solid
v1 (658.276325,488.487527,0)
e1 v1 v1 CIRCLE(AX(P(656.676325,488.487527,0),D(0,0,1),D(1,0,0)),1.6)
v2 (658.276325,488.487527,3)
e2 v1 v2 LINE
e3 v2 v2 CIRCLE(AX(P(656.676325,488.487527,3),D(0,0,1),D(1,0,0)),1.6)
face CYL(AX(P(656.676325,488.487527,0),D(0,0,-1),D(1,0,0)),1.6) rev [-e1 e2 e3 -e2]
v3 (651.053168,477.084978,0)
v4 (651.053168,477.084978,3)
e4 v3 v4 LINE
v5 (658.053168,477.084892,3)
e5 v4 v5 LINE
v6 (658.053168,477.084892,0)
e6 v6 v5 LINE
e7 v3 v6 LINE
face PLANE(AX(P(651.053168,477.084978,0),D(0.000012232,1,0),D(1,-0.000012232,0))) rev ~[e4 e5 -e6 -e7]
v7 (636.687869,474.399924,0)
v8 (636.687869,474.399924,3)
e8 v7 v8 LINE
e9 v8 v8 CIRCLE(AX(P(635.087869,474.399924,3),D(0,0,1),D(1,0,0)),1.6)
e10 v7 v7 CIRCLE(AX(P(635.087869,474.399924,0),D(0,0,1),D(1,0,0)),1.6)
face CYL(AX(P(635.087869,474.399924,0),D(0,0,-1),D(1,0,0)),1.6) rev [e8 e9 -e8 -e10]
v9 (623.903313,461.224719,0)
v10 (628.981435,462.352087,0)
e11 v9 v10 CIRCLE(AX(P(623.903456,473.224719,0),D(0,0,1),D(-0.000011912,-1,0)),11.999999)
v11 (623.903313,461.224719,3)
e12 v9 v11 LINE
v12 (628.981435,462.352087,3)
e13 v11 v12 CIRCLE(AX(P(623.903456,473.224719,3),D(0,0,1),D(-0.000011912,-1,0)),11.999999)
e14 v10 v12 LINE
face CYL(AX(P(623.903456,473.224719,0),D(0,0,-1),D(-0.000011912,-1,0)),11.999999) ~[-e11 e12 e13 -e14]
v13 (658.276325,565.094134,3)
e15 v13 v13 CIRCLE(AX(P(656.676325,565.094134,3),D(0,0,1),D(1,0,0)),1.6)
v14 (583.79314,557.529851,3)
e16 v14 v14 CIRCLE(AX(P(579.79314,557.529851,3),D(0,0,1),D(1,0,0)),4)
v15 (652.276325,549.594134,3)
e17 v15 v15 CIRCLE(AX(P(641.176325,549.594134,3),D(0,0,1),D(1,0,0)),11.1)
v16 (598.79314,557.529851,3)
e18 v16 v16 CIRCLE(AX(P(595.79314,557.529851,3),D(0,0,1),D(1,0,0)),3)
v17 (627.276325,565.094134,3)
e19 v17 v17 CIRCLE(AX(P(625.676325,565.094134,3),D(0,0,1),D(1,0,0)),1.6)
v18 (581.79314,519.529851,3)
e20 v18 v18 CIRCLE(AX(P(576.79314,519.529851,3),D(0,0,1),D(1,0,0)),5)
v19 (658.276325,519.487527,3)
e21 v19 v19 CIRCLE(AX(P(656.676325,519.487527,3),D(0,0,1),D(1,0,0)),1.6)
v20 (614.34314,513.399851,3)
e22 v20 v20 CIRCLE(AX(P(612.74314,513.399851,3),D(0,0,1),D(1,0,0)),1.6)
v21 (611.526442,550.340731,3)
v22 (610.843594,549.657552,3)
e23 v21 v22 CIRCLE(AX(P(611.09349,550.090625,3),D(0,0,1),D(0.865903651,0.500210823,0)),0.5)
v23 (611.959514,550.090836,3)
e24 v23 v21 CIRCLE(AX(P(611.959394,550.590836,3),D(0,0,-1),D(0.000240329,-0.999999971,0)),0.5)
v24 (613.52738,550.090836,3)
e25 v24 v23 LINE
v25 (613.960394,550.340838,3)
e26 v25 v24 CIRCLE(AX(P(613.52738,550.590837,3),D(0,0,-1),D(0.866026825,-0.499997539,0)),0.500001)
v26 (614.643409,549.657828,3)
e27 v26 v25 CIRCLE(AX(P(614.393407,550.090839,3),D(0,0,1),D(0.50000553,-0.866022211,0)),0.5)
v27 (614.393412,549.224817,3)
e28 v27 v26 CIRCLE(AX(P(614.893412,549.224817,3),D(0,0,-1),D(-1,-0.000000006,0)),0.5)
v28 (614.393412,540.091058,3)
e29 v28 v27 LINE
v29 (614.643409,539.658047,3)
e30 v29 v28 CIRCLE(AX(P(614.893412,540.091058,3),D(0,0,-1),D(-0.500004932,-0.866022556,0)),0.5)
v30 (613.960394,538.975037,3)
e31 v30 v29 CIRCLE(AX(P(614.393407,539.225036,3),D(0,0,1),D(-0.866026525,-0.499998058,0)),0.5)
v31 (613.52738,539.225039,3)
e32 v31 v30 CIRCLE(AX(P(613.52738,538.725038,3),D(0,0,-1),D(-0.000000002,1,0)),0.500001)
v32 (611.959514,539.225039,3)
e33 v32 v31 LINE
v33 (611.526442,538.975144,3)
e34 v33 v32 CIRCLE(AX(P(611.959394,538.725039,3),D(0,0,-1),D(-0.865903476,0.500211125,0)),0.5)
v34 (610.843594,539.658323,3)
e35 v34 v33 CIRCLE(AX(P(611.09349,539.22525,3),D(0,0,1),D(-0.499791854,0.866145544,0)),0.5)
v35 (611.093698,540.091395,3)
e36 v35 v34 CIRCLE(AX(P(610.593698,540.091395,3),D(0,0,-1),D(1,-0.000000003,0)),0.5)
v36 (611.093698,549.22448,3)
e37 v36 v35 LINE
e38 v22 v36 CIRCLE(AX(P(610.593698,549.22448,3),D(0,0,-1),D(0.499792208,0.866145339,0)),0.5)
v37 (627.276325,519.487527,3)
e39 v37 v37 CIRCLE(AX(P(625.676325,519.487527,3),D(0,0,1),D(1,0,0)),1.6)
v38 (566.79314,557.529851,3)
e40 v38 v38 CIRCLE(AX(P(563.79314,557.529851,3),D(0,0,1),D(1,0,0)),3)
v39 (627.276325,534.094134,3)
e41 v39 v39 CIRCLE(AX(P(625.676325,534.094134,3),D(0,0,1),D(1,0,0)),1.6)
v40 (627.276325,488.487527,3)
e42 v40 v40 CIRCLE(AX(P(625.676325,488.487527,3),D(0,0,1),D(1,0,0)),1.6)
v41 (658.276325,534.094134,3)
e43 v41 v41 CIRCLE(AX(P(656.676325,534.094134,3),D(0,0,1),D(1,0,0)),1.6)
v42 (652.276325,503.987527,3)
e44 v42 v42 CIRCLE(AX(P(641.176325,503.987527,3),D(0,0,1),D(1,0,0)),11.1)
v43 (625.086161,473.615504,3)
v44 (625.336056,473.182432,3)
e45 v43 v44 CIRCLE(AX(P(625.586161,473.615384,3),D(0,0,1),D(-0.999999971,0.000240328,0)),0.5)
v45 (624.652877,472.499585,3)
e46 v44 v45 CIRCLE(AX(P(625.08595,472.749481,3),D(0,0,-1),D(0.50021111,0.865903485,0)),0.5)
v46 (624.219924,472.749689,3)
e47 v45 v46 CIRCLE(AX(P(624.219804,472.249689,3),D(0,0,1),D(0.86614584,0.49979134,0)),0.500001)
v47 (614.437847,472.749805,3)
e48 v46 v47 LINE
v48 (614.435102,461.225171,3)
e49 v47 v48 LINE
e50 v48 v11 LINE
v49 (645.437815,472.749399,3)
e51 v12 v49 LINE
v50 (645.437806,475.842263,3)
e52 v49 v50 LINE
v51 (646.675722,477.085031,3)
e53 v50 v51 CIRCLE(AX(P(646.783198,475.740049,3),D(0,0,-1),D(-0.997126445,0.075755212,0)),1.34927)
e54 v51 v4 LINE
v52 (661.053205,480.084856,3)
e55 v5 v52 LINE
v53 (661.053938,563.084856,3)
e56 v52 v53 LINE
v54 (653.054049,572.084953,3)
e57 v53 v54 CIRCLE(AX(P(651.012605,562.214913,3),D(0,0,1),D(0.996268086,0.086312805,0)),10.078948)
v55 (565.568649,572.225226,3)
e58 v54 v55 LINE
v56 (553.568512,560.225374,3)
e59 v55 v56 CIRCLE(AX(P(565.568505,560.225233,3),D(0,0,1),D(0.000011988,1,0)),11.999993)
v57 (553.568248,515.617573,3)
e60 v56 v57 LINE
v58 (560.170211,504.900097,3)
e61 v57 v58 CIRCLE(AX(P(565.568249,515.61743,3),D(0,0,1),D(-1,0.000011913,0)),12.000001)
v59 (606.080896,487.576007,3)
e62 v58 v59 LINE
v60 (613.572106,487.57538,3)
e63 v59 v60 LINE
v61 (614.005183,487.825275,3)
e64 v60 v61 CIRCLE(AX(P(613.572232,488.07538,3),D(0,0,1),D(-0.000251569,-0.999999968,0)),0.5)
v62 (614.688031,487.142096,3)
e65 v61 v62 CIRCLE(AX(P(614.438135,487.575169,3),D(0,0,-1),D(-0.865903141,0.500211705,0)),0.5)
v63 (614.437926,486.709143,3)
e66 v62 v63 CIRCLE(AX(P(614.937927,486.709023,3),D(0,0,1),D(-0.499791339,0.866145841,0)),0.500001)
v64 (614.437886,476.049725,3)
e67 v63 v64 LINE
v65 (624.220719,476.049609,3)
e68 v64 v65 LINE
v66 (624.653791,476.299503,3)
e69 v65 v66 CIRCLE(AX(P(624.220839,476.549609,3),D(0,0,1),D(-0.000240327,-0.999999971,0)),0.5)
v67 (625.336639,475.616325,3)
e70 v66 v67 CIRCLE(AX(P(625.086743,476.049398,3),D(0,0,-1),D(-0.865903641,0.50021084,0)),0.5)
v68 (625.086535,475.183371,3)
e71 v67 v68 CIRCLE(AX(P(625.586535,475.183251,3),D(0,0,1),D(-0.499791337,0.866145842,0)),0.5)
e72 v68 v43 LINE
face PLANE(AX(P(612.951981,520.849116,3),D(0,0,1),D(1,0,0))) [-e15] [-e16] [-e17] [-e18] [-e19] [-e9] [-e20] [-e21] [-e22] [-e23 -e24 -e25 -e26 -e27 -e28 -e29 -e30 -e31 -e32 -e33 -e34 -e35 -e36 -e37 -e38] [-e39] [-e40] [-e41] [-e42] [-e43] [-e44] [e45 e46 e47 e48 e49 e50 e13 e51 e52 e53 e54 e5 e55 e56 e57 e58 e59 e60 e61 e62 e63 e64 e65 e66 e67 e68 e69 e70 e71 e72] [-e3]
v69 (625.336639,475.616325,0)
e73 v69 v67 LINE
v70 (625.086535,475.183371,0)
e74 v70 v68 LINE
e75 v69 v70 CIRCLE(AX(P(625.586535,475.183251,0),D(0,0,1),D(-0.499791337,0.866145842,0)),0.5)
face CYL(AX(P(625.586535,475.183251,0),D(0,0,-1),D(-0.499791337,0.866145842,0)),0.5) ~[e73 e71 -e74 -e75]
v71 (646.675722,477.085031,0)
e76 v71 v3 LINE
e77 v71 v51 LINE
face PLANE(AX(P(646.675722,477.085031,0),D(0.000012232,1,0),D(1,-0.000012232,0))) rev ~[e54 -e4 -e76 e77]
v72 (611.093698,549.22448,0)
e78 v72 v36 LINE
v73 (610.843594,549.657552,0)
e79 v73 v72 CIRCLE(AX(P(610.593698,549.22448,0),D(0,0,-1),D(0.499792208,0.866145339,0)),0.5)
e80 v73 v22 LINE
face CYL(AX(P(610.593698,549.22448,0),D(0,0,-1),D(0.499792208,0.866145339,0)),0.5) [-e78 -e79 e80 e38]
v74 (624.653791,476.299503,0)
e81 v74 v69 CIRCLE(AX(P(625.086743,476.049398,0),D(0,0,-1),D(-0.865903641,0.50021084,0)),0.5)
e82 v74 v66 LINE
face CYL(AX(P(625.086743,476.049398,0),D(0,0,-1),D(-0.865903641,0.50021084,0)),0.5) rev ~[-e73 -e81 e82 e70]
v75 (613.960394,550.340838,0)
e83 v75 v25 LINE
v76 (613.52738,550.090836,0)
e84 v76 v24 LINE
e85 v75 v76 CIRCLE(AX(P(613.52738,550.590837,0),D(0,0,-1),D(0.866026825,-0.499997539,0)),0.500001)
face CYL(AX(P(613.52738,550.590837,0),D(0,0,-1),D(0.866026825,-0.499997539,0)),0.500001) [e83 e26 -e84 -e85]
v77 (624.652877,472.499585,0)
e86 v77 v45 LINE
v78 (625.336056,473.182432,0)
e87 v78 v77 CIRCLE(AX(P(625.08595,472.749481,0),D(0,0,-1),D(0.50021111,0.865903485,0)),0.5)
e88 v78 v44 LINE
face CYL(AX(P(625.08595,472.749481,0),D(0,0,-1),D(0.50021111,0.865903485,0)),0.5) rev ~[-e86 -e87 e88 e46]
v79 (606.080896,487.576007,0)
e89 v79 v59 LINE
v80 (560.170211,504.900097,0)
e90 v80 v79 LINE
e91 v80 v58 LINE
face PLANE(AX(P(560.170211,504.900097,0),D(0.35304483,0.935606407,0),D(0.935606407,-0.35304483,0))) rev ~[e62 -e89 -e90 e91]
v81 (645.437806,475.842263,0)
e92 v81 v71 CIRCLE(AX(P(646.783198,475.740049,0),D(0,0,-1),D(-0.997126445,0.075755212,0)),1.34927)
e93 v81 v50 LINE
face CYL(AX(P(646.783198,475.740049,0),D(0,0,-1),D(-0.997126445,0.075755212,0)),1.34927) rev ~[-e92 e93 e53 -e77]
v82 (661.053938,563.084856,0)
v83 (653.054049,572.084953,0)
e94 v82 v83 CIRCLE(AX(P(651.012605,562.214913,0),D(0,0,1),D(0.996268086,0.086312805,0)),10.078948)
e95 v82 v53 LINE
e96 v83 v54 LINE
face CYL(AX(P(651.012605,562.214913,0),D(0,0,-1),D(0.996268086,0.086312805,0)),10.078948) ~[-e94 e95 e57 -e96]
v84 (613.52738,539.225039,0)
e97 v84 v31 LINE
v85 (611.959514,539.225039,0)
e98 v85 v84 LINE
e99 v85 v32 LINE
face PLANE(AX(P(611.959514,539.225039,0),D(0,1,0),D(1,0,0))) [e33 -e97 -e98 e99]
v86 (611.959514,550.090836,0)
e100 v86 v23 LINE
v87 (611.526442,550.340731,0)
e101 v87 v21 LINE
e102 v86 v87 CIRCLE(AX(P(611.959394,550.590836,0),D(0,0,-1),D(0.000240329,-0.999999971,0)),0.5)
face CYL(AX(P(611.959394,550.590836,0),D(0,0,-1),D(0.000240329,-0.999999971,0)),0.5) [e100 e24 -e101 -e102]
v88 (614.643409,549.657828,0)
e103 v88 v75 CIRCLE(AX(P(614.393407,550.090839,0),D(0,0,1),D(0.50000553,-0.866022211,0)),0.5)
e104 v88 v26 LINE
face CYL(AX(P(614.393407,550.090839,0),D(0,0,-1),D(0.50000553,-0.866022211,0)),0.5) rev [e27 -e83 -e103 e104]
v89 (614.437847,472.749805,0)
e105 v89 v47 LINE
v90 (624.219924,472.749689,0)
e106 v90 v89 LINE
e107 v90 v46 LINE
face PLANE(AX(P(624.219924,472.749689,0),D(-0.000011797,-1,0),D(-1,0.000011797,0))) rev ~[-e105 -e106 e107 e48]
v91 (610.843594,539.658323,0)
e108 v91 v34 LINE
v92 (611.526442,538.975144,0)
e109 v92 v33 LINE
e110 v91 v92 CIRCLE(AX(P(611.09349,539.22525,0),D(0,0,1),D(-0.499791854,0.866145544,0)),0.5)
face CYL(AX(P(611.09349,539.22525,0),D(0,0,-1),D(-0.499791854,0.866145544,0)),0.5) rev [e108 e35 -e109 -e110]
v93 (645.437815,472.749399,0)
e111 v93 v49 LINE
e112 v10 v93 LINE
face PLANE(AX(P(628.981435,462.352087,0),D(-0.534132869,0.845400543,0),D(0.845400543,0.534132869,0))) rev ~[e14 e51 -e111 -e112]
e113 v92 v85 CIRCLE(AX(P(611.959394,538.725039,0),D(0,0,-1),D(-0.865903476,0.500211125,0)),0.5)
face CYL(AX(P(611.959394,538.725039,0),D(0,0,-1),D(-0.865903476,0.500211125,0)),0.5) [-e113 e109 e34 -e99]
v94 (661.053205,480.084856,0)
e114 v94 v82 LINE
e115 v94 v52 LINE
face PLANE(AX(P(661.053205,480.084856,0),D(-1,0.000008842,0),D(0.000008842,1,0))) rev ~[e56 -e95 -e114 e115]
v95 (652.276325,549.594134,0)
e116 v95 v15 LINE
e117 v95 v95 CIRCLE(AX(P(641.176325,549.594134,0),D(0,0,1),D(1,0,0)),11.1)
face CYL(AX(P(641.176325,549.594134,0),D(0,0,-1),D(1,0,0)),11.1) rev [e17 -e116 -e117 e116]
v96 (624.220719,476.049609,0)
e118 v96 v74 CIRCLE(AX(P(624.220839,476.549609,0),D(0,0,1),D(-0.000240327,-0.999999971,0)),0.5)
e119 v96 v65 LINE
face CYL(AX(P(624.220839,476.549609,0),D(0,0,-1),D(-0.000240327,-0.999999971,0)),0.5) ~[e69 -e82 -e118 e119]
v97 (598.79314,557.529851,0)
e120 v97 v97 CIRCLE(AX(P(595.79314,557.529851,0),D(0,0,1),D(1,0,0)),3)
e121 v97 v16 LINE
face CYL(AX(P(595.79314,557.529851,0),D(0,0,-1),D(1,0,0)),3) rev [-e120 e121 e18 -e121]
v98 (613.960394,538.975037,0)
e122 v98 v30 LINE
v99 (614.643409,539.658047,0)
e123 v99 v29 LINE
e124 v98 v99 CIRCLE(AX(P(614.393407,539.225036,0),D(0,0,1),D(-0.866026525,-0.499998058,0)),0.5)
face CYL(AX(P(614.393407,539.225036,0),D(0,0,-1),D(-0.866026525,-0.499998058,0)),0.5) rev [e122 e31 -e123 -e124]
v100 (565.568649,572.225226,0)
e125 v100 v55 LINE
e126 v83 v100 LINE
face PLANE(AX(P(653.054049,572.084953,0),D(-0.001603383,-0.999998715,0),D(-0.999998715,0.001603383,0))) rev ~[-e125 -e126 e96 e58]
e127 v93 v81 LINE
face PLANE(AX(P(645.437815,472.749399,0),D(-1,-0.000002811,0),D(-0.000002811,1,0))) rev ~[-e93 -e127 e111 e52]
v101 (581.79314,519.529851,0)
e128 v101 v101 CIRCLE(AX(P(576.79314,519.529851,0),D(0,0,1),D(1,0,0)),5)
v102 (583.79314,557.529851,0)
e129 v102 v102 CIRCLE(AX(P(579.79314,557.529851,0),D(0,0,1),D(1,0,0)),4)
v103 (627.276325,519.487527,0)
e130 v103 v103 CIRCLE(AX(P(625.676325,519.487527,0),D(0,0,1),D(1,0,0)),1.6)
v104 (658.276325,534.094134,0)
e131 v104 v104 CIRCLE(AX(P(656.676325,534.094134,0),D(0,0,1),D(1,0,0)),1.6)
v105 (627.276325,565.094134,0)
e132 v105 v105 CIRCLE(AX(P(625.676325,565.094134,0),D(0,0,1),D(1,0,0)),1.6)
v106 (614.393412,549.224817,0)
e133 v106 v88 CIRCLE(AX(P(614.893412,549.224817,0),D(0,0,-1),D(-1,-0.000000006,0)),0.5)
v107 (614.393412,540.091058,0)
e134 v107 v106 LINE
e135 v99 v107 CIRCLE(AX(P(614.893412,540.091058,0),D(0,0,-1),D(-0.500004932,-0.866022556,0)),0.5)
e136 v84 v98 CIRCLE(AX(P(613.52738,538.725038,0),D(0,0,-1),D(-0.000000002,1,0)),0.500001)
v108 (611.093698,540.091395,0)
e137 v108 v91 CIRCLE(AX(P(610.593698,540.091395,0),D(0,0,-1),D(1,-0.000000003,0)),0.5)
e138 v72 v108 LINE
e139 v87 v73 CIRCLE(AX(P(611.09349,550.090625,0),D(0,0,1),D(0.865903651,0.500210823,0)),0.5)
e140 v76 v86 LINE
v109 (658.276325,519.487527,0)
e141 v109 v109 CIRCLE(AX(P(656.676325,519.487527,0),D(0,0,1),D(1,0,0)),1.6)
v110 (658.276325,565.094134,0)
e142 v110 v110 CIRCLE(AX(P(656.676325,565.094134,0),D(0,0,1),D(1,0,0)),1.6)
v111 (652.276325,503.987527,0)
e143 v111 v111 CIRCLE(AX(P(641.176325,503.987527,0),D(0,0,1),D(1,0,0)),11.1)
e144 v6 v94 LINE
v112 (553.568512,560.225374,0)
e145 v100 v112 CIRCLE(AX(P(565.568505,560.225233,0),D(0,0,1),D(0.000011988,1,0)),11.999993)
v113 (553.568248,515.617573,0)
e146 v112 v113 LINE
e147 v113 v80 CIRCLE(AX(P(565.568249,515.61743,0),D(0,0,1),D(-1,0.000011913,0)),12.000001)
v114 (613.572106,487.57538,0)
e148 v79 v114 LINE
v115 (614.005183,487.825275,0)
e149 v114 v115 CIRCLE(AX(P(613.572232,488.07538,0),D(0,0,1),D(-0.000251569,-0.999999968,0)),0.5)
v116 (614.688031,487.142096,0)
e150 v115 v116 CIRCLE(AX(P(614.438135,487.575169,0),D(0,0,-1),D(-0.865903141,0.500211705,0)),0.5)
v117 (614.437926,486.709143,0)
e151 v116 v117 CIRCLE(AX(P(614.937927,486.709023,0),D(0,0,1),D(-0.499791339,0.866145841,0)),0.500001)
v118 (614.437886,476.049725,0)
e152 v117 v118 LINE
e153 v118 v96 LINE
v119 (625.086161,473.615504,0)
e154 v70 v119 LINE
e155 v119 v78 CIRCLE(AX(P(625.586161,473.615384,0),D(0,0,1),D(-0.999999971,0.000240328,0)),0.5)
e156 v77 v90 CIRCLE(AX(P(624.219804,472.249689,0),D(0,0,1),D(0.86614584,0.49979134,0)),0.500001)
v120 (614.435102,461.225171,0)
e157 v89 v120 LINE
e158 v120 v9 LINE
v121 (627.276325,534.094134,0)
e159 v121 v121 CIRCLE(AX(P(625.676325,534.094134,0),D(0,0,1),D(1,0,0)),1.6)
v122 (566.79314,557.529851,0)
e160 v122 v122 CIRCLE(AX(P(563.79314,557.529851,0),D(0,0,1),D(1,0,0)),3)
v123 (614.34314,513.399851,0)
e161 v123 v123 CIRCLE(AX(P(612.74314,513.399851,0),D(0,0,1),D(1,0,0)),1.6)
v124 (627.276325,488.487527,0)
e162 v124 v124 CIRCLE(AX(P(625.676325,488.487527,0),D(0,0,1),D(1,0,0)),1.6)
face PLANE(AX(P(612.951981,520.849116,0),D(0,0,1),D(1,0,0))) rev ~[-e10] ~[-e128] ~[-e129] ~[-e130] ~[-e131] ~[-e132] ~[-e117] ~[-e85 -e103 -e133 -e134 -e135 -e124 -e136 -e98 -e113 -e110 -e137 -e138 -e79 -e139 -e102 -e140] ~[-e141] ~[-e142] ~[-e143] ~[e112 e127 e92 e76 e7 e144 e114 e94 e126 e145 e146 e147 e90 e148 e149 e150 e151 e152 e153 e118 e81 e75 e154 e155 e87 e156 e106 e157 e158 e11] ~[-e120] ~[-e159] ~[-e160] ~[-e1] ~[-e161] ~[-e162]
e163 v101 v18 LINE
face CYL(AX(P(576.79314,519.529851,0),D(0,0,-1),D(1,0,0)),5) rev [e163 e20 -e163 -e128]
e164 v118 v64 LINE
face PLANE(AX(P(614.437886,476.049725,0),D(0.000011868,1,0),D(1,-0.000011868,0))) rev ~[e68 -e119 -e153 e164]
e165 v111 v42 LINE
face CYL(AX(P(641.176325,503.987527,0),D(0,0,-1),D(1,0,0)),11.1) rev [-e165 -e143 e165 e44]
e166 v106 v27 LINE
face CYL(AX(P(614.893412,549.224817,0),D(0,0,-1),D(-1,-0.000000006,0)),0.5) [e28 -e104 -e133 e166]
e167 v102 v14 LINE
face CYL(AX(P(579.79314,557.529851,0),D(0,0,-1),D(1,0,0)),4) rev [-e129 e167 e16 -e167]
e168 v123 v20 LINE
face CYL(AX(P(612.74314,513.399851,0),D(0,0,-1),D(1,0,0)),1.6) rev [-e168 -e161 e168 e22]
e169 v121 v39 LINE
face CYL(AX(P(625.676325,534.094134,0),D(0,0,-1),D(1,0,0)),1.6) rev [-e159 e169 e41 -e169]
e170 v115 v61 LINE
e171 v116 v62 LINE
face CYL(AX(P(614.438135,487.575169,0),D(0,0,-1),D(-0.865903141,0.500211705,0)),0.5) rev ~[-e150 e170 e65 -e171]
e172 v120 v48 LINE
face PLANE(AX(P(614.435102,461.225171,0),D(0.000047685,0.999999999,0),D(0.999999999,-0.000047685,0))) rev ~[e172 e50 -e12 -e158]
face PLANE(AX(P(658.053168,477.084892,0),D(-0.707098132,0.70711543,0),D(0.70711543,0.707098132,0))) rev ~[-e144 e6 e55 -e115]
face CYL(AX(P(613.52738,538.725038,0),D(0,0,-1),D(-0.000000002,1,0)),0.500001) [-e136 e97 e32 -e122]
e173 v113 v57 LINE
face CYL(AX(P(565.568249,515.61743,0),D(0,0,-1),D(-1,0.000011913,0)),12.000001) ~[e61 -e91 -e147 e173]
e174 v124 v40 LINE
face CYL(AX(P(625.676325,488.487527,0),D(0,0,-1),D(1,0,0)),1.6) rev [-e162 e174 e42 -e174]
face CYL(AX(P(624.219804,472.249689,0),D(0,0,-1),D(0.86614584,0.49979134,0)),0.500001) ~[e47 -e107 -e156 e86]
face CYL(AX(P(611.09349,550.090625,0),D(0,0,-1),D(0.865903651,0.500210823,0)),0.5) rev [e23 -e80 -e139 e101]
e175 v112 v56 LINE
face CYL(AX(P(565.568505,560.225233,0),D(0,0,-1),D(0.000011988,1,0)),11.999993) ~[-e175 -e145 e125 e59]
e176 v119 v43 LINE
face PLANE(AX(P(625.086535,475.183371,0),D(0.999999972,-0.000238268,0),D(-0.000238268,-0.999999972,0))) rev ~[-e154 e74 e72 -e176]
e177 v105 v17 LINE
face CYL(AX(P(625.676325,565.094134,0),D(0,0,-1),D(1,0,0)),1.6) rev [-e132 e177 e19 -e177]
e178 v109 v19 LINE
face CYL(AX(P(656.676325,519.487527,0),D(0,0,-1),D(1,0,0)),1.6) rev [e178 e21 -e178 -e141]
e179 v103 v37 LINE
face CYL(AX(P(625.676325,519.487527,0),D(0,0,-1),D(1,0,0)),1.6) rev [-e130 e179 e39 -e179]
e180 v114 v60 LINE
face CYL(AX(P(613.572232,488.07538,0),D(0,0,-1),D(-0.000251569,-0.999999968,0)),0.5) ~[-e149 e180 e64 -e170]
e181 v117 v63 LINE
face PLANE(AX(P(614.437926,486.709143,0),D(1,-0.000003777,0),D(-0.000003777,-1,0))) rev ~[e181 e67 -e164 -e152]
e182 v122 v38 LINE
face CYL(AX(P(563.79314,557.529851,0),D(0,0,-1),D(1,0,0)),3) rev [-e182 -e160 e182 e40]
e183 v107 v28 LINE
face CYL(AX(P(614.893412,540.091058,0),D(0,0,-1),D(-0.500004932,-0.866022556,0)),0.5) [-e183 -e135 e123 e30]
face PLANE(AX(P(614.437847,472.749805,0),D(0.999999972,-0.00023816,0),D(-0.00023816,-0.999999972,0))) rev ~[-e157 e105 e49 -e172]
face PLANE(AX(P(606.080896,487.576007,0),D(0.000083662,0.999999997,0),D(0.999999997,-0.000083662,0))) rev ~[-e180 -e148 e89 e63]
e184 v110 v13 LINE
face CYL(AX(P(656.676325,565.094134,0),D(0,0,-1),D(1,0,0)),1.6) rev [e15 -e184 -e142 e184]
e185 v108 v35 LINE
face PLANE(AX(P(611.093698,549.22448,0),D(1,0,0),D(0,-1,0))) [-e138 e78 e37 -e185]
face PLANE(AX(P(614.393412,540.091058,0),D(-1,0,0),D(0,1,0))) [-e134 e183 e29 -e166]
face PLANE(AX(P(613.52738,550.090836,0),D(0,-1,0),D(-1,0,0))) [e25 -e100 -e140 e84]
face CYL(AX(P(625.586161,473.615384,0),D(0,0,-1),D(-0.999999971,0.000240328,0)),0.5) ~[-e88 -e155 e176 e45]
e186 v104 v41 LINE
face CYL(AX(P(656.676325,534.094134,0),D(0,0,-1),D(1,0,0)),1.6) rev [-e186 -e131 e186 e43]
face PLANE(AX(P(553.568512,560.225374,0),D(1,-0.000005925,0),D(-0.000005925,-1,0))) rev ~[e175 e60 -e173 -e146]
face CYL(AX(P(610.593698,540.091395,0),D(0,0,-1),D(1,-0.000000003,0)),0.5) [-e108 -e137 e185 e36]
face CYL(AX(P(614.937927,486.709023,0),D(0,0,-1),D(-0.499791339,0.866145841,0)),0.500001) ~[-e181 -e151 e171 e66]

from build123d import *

# Parameters (mm, degrees)
SKETCH2_R           = 1.6
SKETCH2_R_2         = 11.1
SKETCH2_R_3         = 3
SKETCH2_R_4         = 5
SKETCH2_R_5         = 4
BOSS_EXTRUDE1_DEPTH = 3


with BuildPart() as part:
    # Sketch2 → Boss-Extrude1 (new body)
    with BuildSketch(Plane.XY):
        with BuildLine():
            Line((614.435102185, 461.225170893), (623.90331335, 461.224719403))
            ThreePointArc((623.90331335, 461.224719403), (626.504195172, 461.509935711), (628.981434701, 462.352087069))
            Line((628.981434701, 462.352087069), (645.437814692, 472.74939936))
            Line((645.437814692, 472.74939936), (645.437805999, 475.842263452))
            ThreePointArc((645.437805999, 475.842263452), (645.827256367, 476.692258934), (646.675721819, 477.085031495))
            Line((646.675721819, 477.085031495), (651.053167865, 477.08497795))
            Line((651.053167865, 477.08497795), (658.053167865, 477.084892327))
            Line((658.053167865, 477.084892327), (661.05320456, 480.08485563))
            Line((661.05320456, 480.08485563), (661.053938478, 563.084855626))
            ThreePointArc((661.053938478, 563.084855626), (658.545785906, 568.910909563), (653.054048566, 572.084953481))
            Line((653.054048566, 572.084953481), (565.568648825, 572.225226264))
            ThreePointArc((565.568648825, 572.225226264), (557.08332923, 568.710610374), (553.568511969, 560.225374189))
            Line((553.568511969, 560.225374189), (553.568247664, 515.617572657))
            ThreePointArc((553.568247664, 515.617572657), (555.351154886, 509.323701089), (560.170211258, 504.900096998))
            Line((560.170211258, 504.900096998), (606.080895677, 487.576006806))
            Line((606.080895677, 487.576006806), (613.572105954, 487.575380074))
            ThreePointArc((613.572105954, 487.575380074), (613.822124483, 487.64230545), (614.005183481, 487.825274503))
            ThreePointArc((614.005183481, 487.825274503), (614.791773675, 487.928636269), (614.688030581, 487.142096277))
            ThreePointArc((614.688030581, 487.142096277), (614.504973528, 486.959127354), (614.437926006, 486.709143073))
            Line((614.437926006, 486.709143073), (614.43788575, 476.049724775))
            Line((614.43788575, 476.049724775), (624.220719005, 476.049608672))
            ThreePointArc((624.220719005, 476.049608672), (624.470734348, 476.116535454), (624.653790913, 476.299503103))
            ThreePointArc((624.653790913, 476.299503103), (625.440382085, 476.402865597), (625.336639048, 475.616324524))
            ThreePointArc((625.336639048, 475.616324524), (625.153582047, 475.433355654), (625.086534543, 475.183371443))
            Line((625.086534543, 475.183371443), (625.086160971, 473.615504488))
            ThreePointArc((625.086160971, 473.615504488), (625.15308783, 473.365488935), (625.336055679, 473.182432256))
            ThreePointArc((625.336055679, 473.182432256), (625.439417924, 472.395841553), (624.652877353, 472.499584586))
            ThreePointArc((624.652877353, 472.499584586), (624.46990843, 472.682641639), (624.219924149, 472.749689162))
            Line((624.219924149, 472.749689162), (614.437846894, 472.749804566))
            Line((614.437846894, 472.749804566), (614.435102185, 461.225170893))
        make_face()
        with Locations((635.087868744, 474.399923822)):
            Circle(SKETCH2_R, mode=Mode.SUBTRACT)
        with Locations((656.676324975, 488.487527015)):
            Circle(SKETCH2_R, mode=Mode.SUBTRACT)
        with Locations((625.676324975, 488.487527015)):
            Circle(SKETCH2_R, mode=Mode.SUBTRACT)
        with Locations((625.676324975, 534.094134141)):
            Circle(SKETCH2_R, mode=Mode.SUBTRACT)
        with Locations((641.176324975, 549.594134141)):
            Circle(SKETCH2_R_2, mode=Mode.SUBTRACT)
        with Locations((612.74313993, 513.399851045)):
            Circle(SKETCH2_R, mode=Mode.SUBTRACT)
        with Locations((656.676324975, 519.487527015)):
            Circle(SKETCH2_R, mode=Mode.SUBTRACT)
        with Locations((641.176324975, 503.987527015)):
            Circle(SKETCH2_R_2, mode=Mode.SUBTRACT)
        with Locations((625.676324975, 519.487527015)):
            Circle(SKETCH2_R, mode=Mode.SUBTRACT)
        with Locations((595.79313993, 557.52985104)):
            Circle(SKETCH2_R_3, mode=Mode.SUBTRACT)
        with Locations((656.676324975, 534.094134141)):
            Circle(SKETCH2_R, mode=Mode.SUBTRACT)
        with Locations((576.79313993, 519.52985104)):
            Circle(SKETCH2_R_4, mode=Mode.SUBTRACT)
        with Locations((579.79313993, 557.52985104)):
            Circle(SKETCH2_R_5, mode=Mode.SUBTRACT)
        with Locations((563.79313993, 557.52985104)):
            Circle(SKETCH2_R_3, mode=Mode.SUBTRACT)
        with Locations((625.676324975, 565.094134141)):
            Circle(SKETCH2_R, mode=Mode.SUBTRACT)
        with Locations((656.676324975, 565.094134141)):
            Circle(SKETCH2_R, mode=Mode.SUBTRACT)
        with BuildLine():
            Line((611.093697619, 549.224479725), (611.093697619, 540.09139539))
            ThreePointArc((611.093697619, 540.09139539), (611.02668037, 539.841343608), (610.843593883, 539.658322999))
            ThreePointArc((610.843593883, 539.658322999), (610.739850849, 538.871781922), (611.526442023, 538.975144428))
            ThreePointArc((611.526442023, 538.975144428), (611.709498586, 539.158112071), (611.959513926, 539.225038851))
            Line((611.959513926, 539.225038851), (613.527379805, 539.225038851))
            ThreePointArc((613.527379805, 539.225038851), (613.777380678, 539.158051129), (613.960393664, 538.975037363))
            ThreePointArc((613.960393664, 538.975037363), (614.746958334, 538.871481536), (614.643409294, 539.6580471))
            ThreePointArc((614.643409294, 539.6580471), (614.460398347, 539.841059611), (614.393411762, 540.091058378))
            Line((614.393411762, 540.091058378), (614.393411762, 549.224816737))
            ThreePointArc((614.393411762, 549.224816737), (614.460398347, 549.474815504), (614.643409294, 549.657828015))
            ThreePointArc((614.643409294, 549.657828015), (614.746958334, 550.444393579), (613.960393664, 550.340837752))
            ThreePointArc((613.960393664, 550.340837752), (613.777380678, 550.157823986), (613.527379805, 550.090836264))
            Line((613.527379805, 550.090836264), (611.959513926, 550.090836264))
            ThreePointArc((611.959513926, 550.090836264), (611.709498586, 550.157763044), (611.526442023, 550.340730687))
            ThreePointArc((611.526442023, 550.340730687), (610.739850849, 550.444093193), (610.843593883, 549.657552116))
            ThreePointArc((610.843593883, 549.657552116), (611.02668037, 549.474531507), (611.093697619, 549.224479725))
        make_face(mode=Mode.SUBTRACT)
    extrude(amount=BOSS_EXTRUDE1_DEPTH)


solid = part.part
